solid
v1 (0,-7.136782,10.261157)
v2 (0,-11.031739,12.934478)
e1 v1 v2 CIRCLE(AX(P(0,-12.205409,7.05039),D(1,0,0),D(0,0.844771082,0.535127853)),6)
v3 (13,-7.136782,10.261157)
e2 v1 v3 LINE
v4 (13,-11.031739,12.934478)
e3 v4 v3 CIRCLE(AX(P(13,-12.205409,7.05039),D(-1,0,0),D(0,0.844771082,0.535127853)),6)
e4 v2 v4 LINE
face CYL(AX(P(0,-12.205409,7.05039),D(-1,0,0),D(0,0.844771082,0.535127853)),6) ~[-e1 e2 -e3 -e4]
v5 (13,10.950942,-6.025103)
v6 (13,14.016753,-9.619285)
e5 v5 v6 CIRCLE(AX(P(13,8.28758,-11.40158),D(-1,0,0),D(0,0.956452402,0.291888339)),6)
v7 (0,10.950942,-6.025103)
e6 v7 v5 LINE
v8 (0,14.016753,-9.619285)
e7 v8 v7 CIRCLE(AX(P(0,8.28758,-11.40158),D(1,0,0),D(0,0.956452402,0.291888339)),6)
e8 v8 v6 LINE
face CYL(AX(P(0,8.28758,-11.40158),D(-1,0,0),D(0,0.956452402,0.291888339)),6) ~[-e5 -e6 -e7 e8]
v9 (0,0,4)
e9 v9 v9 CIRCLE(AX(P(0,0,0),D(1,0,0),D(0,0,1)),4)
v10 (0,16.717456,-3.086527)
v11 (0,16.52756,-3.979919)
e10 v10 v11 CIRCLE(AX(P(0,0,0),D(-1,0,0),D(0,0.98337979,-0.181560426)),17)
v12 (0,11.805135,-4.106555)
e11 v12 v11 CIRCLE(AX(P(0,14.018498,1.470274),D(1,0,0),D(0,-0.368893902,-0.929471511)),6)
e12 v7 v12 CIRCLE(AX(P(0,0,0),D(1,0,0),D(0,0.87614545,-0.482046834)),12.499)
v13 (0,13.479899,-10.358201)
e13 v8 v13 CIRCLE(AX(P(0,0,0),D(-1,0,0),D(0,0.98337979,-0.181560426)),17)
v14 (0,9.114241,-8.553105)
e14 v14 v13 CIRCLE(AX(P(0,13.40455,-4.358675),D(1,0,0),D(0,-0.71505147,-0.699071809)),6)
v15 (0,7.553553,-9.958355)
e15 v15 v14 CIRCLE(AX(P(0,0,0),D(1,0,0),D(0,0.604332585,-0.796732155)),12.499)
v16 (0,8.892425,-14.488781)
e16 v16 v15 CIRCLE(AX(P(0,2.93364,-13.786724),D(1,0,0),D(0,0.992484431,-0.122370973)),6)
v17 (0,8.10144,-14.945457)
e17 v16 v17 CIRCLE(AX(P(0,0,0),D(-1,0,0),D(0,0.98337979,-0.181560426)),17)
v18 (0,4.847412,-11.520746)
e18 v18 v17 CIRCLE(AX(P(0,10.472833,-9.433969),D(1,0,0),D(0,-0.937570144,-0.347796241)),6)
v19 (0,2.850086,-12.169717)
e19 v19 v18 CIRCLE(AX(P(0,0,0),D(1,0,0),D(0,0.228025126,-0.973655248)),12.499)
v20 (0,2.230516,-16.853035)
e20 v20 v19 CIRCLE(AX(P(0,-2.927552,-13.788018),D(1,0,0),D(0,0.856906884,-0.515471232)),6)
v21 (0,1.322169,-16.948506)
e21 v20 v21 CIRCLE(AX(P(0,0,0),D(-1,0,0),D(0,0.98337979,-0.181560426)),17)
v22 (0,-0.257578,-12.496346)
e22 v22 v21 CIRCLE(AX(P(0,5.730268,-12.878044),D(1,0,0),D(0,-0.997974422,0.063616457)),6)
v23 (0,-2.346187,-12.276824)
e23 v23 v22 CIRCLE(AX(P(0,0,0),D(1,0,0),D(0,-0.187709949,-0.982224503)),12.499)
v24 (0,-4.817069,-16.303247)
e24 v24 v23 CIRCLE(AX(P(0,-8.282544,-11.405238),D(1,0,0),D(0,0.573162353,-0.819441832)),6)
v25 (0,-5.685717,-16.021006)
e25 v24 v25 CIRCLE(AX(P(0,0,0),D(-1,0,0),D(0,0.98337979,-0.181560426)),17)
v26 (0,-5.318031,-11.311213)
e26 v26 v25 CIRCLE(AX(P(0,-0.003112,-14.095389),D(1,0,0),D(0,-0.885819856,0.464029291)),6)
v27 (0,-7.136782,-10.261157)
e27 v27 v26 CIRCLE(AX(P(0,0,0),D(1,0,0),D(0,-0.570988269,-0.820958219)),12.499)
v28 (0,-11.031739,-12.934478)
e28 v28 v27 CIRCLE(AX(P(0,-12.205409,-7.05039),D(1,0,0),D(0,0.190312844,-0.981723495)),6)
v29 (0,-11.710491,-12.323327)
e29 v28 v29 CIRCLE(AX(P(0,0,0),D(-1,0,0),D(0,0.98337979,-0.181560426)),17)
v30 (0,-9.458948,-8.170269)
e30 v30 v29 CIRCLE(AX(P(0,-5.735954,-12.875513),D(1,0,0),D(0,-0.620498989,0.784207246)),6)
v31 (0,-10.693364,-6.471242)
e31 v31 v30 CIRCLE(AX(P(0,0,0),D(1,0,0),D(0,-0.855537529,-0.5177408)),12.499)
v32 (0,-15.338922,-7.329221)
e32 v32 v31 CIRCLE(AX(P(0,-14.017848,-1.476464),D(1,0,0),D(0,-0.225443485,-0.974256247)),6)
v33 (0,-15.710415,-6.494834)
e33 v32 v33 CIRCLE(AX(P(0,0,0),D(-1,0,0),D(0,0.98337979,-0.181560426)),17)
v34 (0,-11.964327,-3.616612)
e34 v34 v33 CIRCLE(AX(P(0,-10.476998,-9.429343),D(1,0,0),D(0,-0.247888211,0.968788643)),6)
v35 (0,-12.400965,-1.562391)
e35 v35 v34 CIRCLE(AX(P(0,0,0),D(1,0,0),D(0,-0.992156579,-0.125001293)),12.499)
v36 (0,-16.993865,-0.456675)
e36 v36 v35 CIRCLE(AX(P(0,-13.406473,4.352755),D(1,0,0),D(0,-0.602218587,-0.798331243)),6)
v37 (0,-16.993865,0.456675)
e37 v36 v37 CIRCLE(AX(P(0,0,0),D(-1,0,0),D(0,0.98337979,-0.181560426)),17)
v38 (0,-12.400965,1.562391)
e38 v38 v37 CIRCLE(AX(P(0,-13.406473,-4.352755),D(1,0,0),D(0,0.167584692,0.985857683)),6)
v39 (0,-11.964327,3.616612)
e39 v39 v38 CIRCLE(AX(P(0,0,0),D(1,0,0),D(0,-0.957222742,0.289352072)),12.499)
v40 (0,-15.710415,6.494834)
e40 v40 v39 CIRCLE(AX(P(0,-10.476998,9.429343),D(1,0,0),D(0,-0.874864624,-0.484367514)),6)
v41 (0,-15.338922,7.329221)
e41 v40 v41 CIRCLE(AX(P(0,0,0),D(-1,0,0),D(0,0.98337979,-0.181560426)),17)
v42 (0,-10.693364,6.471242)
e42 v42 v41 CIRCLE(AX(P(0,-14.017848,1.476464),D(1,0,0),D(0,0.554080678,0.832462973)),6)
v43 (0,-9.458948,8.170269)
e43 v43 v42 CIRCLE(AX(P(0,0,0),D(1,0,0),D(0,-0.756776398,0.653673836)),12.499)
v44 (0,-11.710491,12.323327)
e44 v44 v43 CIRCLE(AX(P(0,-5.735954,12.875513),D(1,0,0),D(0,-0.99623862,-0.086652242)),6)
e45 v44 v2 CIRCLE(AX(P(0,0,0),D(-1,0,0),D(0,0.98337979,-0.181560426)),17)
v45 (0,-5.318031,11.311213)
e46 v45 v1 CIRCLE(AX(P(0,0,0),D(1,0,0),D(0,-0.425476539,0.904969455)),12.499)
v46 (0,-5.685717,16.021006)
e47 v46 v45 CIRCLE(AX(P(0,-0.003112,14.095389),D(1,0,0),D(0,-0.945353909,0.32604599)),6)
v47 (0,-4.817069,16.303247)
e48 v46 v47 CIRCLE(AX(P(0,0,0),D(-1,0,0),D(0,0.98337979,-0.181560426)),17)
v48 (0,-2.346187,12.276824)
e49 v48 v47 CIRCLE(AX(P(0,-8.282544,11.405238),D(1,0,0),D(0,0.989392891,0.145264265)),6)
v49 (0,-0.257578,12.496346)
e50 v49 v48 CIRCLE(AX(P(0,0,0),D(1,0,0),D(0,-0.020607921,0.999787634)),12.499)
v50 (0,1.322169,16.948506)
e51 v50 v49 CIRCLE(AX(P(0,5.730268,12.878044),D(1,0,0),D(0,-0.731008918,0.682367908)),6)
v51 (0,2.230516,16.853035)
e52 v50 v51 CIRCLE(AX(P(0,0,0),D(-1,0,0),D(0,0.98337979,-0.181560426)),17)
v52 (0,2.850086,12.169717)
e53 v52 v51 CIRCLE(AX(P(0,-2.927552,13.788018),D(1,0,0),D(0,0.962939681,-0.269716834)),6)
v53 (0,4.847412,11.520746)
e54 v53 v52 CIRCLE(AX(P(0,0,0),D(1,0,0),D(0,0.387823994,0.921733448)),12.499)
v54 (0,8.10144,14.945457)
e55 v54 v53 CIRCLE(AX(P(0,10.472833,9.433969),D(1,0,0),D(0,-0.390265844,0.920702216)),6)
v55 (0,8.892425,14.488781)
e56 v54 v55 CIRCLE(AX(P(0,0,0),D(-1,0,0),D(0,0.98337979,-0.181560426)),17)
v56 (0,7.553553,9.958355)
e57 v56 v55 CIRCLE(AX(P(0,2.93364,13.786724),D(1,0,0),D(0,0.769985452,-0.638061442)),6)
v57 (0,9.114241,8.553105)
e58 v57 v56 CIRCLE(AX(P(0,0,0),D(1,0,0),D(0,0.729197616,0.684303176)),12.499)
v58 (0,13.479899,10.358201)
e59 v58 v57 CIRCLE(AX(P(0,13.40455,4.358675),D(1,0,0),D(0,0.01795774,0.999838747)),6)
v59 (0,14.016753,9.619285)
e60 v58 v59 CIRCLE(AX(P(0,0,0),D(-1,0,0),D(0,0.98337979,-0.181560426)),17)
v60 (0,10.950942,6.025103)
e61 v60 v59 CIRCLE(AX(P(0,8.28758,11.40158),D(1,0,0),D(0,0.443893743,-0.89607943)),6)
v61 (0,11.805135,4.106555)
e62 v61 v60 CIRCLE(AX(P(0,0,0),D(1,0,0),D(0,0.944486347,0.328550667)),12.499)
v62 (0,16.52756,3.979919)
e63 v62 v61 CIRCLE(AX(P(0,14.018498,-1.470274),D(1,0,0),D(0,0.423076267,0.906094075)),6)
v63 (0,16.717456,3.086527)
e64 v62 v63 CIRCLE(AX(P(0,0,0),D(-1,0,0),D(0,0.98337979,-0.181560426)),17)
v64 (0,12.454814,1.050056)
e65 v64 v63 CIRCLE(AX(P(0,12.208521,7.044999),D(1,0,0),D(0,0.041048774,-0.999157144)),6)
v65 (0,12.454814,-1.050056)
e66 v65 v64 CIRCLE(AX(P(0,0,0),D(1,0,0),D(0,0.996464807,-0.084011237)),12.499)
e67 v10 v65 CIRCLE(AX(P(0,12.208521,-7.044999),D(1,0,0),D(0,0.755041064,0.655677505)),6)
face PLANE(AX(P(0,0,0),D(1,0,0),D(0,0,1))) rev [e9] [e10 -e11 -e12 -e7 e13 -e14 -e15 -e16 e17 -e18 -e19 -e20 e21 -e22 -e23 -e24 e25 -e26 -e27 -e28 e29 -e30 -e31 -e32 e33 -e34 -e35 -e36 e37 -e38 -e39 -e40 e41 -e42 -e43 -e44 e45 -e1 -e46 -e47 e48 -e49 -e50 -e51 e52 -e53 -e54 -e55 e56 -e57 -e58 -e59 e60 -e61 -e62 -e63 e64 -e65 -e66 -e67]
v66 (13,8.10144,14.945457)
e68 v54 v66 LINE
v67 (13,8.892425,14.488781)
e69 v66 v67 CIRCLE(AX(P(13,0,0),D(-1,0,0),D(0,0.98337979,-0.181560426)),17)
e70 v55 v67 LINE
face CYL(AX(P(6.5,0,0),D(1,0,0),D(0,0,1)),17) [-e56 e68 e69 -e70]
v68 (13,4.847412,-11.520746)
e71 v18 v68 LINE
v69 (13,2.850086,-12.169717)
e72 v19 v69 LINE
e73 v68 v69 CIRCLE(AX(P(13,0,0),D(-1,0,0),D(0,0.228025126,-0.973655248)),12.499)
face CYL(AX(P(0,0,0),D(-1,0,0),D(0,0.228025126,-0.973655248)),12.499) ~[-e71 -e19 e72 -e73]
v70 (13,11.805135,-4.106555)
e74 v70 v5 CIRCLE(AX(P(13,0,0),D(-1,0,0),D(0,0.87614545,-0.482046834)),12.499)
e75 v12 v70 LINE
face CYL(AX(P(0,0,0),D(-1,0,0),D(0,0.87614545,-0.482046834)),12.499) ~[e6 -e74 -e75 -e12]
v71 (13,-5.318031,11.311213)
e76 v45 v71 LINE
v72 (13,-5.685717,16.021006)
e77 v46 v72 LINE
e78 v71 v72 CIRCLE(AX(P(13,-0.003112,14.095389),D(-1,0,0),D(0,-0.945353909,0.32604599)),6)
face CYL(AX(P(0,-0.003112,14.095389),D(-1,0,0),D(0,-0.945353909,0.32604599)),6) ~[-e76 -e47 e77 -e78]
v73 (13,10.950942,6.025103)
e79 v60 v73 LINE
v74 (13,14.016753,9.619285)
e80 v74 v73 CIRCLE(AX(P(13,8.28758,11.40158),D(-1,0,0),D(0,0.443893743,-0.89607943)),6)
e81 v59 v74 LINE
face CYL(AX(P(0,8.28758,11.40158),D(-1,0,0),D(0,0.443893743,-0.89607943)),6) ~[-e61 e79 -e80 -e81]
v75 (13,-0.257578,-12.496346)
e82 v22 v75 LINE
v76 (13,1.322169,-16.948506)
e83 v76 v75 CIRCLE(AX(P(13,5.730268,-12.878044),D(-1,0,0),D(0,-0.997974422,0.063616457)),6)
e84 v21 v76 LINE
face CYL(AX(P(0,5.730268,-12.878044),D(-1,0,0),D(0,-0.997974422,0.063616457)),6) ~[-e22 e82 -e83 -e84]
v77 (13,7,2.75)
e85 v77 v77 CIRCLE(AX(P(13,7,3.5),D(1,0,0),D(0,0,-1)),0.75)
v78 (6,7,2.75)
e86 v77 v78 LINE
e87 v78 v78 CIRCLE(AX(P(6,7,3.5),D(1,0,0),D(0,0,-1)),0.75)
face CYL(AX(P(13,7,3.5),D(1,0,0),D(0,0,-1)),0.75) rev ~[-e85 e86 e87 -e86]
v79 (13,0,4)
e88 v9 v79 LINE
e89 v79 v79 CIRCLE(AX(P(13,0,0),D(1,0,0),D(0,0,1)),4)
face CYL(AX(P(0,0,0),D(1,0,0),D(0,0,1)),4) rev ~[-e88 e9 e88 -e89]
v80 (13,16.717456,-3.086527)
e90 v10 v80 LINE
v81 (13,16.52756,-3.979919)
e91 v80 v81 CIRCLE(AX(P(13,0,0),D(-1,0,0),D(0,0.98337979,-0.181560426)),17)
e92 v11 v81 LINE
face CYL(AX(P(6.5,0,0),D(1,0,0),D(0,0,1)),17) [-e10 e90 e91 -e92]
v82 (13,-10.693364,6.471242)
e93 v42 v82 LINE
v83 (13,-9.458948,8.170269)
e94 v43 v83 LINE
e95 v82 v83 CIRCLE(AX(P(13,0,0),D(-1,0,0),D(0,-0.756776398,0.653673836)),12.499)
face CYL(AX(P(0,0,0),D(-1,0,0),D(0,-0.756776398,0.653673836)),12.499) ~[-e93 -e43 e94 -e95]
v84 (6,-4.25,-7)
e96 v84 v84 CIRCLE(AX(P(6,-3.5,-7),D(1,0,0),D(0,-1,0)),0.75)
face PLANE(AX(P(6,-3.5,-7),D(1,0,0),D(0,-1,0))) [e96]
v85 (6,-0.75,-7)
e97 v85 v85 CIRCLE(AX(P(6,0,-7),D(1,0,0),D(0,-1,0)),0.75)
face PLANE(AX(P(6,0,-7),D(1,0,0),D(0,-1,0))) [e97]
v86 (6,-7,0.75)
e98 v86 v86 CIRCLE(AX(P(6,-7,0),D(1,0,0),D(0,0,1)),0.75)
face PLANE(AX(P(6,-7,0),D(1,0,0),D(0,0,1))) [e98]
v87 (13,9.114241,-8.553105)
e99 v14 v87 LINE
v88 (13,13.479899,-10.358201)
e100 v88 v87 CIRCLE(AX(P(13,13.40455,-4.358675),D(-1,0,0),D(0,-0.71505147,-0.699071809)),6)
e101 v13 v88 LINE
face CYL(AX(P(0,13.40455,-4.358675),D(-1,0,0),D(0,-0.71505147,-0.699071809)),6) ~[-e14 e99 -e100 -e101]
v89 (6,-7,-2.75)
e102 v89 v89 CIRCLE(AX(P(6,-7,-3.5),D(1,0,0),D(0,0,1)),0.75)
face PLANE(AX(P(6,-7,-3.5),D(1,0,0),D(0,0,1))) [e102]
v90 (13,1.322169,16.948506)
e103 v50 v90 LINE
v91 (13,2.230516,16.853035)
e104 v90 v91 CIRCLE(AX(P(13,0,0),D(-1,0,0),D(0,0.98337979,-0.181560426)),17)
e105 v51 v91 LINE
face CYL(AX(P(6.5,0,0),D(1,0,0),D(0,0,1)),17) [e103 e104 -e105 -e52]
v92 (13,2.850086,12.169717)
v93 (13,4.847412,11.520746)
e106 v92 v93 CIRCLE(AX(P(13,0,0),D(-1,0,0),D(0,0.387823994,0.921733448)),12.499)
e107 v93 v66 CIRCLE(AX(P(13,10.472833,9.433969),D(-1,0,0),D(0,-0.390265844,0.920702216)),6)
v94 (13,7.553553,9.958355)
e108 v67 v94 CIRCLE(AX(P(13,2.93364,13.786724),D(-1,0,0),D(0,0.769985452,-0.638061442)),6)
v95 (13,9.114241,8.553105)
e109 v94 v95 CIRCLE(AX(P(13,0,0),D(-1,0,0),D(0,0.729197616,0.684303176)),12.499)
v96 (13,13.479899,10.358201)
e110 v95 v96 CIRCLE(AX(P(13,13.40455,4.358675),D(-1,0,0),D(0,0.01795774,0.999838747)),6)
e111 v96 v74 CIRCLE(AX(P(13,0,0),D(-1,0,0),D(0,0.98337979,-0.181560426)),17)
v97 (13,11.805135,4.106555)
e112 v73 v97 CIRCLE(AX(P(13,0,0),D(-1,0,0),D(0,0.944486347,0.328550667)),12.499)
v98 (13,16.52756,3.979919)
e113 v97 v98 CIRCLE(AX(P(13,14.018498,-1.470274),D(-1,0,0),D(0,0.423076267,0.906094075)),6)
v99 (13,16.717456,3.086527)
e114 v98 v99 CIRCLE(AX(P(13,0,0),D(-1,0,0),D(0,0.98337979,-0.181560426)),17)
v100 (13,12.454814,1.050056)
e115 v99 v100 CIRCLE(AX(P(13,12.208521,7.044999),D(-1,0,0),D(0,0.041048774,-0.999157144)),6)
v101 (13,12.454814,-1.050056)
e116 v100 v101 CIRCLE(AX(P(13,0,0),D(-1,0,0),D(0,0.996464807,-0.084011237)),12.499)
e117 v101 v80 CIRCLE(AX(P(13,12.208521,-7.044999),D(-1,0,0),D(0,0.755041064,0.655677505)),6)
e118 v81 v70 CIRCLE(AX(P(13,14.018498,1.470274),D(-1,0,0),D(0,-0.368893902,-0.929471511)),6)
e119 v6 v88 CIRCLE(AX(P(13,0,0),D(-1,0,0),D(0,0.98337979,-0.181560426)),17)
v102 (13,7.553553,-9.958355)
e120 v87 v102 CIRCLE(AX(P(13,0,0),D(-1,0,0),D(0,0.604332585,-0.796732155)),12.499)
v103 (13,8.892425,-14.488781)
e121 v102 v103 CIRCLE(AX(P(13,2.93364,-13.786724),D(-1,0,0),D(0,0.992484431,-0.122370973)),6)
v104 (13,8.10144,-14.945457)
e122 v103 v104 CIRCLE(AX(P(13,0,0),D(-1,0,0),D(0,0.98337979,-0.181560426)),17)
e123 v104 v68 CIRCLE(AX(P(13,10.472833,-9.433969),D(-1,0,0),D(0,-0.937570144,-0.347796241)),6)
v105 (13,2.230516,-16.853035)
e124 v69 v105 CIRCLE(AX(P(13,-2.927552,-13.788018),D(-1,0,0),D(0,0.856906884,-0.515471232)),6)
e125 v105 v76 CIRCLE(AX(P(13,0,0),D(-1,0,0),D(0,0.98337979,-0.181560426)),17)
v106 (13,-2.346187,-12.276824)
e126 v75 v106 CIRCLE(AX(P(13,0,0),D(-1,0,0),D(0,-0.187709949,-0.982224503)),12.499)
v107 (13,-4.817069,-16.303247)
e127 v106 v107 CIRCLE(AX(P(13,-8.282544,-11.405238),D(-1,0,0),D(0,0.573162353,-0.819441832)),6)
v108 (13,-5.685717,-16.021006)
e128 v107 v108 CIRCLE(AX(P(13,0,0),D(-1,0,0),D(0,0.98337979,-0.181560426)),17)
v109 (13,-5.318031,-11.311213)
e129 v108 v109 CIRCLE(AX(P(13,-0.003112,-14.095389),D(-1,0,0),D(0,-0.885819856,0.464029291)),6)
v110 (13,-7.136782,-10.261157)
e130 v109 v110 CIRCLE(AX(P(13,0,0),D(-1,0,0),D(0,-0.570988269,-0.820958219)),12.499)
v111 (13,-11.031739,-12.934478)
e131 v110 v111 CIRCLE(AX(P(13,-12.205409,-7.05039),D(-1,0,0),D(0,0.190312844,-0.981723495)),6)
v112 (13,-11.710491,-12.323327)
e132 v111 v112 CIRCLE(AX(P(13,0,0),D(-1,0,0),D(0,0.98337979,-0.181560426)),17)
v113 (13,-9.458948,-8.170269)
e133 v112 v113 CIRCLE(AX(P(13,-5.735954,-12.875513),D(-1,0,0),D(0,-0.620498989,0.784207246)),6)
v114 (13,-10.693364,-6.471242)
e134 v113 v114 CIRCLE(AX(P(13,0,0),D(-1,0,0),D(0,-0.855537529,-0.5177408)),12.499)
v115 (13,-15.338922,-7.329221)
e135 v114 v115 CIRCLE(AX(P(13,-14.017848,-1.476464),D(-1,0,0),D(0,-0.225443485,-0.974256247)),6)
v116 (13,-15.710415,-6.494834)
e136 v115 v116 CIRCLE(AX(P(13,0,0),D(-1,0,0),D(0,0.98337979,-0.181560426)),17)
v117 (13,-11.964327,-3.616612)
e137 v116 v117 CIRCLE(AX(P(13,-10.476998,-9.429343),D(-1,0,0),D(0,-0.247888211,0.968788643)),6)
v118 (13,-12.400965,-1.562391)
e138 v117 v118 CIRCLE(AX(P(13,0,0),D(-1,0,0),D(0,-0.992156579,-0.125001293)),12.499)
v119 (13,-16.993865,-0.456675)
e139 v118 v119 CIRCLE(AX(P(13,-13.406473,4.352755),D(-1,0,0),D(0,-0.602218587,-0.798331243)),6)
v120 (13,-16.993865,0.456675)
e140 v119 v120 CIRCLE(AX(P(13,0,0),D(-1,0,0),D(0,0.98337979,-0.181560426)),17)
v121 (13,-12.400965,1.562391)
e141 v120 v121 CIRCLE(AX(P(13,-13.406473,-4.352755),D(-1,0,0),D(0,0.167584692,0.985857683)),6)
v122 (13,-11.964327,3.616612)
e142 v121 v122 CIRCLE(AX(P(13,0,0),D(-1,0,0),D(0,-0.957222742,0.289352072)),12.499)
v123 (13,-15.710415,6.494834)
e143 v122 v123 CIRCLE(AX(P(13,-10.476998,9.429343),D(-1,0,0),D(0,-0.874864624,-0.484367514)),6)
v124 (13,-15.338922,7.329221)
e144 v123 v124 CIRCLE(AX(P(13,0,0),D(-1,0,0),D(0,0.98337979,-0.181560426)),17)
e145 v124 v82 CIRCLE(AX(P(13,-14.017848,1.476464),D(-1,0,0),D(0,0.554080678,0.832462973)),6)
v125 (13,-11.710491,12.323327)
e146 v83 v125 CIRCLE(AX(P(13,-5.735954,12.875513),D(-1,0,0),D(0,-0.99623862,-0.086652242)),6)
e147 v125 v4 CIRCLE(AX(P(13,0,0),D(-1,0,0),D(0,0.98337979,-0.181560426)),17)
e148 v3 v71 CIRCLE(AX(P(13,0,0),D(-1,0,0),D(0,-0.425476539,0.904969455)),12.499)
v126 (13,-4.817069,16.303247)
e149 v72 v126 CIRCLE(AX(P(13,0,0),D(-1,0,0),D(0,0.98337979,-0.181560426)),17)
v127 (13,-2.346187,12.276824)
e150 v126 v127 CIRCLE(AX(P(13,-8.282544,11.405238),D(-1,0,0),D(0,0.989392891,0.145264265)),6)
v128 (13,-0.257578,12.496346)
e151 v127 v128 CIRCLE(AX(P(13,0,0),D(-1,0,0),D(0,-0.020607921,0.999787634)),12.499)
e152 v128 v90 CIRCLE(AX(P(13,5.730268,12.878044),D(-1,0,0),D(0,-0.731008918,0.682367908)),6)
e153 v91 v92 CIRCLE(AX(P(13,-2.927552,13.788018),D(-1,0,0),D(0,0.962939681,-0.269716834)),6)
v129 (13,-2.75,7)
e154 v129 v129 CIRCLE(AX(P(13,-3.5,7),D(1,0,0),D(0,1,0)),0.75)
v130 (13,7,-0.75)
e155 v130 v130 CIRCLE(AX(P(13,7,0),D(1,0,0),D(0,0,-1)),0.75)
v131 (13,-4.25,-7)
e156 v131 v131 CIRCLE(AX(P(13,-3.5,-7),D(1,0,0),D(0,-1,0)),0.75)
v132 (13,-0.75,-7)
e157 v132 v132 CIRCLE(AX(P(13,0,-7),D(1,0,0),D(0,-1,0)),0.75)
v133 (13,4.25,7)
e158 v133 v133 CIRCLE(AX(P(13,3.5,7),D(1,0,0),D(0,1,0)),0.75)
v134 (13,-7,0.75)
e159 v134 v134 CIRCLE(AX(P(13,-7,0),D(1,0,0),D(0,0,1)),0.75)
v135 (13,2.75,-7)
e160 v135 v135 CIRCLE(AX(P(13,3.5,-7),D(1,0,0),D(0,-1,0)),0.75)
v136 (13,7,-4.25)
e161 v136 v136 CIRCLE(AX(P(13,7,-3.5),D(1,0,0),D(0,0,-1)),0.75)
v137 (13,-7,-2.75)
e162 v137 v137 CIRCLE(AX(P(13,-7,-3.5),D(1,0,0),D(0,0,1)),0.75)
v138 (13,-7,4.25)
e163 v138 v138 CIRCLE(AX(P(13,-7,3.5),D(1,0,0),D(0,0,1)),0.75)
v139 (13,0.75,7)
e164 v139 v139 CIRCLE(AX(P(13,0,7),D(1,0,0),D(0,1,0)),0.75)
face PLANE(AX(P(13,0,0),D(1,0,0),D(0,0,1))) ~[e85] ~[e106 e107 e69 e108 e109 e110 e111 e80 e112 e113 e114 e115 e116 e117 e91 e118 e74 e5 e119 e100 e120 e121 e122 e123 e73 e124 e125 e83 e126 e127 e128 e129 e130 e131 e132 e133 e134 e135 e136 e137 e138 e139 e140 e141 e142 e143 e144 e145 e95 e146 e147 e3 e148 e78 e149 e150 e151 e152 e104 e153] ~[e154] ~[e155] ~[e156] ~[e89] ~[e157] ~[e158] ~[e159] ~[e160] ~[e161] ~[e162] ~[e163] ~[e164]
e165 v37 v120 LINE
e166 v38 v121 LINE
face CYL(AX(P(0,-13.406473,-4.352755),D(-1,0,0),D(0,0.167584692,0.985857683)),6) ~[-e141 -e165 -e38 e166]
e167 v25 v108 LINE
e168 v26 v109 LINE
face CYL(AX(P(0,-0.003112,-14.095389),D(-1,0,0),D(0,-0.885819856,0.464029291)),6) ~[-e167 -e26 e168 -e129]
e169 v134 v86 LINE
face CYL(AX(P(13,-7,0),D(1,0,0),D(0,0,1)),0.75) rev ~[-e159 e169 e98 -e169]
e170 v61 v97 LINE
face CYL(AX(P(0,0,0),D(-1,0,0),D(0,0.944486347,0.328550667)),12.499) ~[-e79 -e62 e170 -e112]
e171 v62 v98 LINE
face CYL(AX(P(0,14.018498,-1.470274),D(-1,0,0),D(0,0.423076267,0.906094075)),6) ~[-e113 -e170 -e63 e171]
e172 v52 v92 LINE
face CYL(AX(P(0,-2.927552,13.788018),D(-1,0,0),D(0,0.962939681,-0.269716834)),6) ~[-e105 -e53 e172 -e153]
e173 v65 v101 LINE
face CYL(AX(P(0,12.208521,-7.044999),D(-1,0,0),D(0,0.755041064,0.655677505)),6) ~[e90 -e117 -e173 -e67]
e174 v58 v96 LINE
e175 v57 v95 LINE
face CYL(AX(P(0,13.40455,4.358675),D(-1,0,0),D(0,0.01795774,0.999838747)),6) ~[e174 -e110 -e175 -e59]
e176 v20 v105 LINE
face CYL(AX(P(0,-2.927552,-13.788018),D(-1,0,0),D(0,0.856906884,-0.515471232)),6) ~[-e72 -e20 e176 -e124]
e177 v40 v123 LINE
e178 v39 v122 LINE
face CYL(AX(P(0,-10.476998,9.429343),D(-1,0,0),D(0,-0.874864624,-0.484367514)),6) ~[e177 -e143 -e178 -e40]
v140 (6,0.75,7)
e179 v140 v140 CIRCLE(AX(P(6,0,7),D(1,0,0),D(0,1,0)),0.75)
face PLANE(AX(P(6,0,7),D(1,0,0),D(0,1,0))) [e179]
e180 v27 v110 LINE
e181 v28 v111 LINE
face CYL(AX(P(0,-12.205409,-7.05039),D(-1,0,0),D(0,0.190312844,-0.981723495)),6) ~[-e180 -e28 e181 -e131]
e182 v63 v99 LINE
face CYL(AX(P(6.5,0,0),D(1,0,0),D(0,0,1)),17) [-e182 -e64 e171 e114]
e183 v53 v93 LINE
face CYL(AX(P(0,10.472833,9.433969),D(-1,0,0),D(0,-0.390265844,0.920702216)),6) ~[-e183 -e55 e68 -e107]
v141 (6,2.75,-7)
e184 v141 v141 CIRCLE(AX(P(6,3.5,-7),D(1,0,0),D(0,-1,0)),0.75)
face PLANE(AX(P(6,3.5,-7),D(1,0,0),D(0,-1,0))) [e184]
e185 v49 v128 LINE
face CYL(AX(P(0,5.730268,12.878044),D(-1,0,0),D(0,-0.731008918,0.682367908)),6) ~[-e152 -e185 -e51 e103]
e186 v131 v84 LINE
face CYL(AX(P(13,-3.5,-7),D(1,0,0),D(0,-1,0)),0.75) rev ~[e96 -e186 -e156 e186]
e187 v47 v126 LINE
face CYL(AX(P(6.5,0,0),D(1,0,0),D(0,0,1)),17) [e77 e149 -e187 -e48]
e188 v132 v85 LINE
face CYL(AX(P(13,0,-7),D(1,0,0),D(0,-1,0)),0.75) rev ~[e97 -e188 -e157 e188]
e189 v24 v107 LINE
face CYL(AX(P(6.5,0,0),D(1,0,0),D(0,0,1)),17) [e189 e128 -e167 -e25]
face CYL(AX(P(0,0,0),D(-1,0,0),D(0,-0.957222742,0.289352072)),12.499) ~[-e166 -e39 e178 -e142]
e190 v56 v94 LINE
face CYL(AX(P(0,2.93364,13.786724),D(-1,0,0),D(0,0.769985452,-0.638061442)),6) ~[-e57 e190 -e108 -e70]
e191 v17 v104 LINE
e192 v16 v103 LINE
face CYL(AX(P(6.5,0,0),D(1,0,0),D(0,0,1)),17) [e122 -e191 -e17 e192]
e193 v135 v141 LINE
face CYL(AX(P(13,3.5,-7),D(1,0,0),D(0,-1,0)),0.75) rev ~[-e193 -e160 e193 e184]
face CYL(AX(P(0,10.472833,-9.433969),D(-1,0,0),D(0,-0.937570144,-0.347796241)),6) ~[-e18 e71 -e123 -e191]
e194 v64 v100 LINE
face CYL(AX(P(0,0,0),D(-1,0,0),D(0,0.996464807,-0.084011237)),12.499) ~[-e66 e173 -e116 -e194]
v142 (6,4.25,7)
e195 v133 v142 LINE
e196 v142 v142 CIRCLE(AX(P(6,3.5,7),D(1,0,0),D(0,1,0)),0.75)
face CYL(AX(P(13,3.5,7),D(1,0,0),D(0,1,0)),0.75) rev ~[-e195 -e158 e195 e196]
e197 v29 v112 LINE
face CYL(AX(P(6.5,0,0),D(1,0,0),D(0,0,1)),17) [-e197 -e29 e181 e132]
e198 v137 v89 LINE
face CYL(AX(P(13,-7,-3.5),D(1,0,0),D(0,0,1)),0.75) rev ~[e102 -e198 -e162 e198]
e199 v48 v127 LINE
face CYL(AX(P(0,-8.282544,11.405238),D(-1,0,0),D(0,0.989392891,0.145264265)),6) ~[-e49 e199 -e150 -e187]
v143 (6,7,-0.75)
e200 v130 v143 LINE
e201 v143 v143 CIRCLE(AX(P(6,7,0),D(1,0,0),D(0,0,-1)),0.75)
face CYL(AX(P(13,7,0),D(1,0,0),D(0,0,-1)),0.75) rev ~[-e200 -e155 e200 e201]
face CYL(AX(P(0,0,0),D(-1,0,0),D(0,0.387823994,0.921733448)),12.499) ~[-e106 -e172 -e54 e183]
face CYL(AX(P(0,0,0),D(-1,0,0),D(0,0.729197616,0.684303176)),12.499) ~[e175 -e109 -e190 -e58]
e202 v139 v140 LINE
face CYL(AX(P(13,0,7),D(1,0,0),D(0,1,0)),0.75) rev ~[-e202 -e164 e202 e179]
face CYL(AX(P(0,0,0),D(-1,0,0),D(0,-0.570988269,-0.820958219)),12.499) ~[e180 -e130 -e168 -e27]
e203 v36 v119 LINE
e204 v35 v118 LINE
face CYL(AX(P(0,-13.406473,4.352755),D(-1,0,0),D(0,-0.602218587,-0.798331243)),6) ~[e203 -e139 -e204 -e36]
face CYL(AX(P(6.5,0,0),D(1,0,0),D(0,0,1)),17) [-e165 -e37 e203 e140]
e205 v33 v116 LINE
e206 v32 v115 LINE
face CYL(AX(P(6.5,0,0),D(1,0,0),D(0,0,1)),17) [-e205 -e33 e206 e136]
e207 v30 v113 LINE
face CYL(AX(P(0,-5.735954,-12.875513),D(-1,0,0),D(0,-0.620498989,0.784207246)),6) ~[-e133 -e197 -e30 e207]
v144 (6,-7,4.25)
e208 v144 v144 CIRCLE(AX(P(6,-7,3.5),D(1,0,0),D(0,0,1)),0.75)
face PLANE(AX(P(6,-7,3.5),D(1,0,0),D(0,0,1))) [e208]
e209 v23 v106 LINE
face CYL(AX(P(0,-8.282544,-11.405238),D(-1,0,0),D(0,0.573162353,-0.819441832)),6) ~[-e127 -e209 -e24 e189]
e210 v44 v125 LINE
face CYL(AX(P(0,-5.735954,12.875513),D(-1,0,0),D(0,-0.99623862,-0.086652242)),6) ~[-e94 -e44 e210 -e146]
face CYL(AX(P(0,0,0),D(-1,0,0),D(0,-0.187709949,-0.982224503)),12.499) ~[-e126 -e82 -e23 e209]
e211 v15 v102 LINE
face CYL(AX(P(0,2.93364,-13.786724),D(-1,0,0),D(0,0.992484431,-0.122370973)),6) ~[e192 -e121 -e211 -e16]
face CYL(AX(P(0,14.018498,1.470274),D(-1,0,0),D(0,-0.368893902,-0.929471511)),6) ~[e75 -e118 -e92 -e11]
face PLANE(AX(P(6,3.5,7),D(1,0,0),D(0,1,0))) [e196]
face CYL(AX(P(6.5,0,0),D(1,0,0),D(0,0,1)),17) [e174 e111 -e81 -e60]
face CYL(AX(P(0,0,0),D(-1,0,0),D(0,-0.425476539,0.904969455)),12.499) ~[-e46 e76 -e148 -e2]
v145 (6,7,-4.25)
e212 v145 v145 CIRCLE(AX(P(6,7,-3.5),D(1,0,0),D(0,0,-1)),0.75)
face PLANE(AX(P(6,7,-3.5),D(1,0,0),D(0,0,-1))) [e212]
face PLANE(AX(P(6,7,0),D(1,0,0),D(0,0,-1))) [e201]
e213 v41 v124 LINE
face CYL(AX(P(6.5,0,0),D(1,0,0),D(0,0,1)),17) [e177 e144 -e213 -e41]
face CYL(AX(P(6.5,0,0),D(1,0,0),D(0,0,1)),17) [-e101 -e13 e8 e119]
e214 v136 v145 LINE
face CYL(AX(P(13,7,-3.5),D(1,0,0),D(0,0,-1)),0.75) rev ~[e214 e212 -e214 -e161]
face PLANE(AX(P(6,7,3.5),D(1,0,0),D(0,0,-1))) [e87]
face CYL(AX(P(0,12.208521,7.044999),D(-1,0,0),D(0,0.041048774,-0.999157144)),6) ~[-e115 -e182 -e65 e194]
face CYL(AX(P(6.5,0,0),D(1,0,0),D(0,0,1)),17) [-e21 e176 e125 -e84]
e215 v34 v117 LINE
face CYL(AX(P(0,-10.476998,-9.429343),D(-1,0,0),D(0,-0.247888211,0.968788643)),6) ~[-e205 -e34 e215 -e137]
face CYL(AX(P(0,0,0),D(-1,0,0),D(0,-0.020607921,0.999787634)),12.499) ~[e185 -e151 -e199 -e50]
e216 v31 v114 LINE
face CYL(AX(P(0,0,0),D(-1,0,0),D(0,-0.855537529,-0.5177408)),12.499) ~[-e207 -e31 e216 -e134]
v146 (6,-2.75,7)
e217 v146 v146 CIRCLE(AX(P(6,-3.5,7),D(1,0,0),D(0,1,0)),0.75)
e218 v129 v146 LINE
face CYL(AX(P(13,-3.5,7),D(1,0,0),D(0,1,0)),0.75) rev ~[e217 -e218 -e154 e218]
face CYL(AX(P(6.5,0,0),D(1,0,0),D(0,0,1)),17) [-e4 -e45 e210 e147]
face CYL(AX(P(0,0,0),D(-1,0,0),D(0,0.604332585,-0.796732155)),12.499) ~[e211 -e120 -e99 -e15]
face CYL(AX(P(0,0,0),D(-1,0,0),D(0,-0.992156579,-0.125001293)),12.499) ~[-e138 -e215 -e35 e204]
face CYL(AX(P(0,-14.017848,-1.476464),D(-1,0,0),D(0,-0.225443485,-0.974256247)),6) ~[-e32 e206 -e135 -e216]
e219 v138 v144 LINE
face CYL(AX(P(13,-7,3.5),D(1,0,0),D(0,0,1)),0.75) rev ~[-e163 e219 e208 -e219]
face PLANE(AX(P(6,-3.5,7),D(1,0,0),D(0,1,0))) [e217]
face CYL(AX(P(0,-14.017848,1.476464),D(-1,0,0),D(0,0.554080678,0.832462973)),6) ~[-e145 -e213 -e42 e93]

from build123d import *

# Parameters (mm, degrees)
BASPROSKE_W        = 13
BASPROSKE_H        = 17
TOOTHCUT_DEPTH     = 28.331300737
TEETHCUTS_COUNT    = 15
TEETHCUTS_ANGLE    = 336
BORSKE_R           = 4
BORE_DEPTH         = 50.0000508
SKETCH1_R          = 0.75
CUT_EXTRUDE1_DEPTH = 7
CIRPATTERN1_COUNT  = 4


with BuildPart() as part:
    # BasProSke → Base-Revolve (revolve)
    with BuildSketch(Plane(origin=(0, 0, 0), x_dir=(1, 0, 0), z_dir=(0, 1, 0)), mode=Mode.PRIVATE) as base_revolve_sk:
        with Locations((6.5, 8.5)):
            Rectangle(BASPROSKE_W, BASPROSKE_H)
    revolve(base_revolve_sk.sketch.rotate(Axis((-10, 0, 0), (1, 0, 0)), 180), axis=Axis((-10, 0, 0), (1, 0, 0)))

    # TooCutSke → ToothCut (cut, through all)
    with BuildSketch(Plane(origin=(0, 0, 0), x_dir=(0, 0, -1), z_dir=(1, 0, 0))):
        with BuildLine():
            ThreePointArc((1.050056448, 12.454813626), (0, 12.499), (-1.050056448, 12.454813626))
            ThreePointArc((-1.050056448, 12.454813626), (-1.638118106, 14.809604533), (-3.110934279, 16.73876737))
            ThreePointArc((-3.110934279, 16.73876737), (0, 17.0254), (3.110934279, 16.73876737))
            ThreePointArc((3.110934279, 16.73876737), (1.638118106, 14.809604533), (1.050056448, 12.454813626))
        make_face()
    toothcut = extrude(amount=TOOTHCUT_DEPTH, mode=Mode.SUBTRACT)

    # TeethCuts: ToothCut ×15 about axis
    teethcuts_axis = Axis((-10, 0, 0), (1, 0, 0))
    for i in range(1, TEETHCUTS_COUNT):
        add(toothcut.rotate(teethcuts_axis, i * TEETHCUTS_ANGLE / (TEETHCUTS_COUNT - 1)), mode=Mode.SUBTRACT)

    # BorSke → Bore (cut, symmetric)
    with BuildSketch(Plane(origin=(0, 0, 0), x_dir=(0, 0, -1), z_dir=(1, 0, 0))):
        with Locations(Location((0, 0, 0), (0, 0, 180))):
            Circle(BORSKE_R)
    extrude(amount=BORE_DEPTH, both=True, mode=Mode.SUBTRACT)

    # Sketch1 → Cut-Extrude1 (cut)
    with BuildSketch(Plane(origin=(13, 0, 0), x_dir=(0, 0, -1), z_dir=(1, 0, 0))):
        with Locations((-3.5, 7)):
            Circle(SKETCH1_R)
        with Locations((0, 7)):
            Circle(SKETCH1_R)
        with Locations((3.5, 7)):
            Circle(SKETCH1_R)
    cut_extrude1 = extrude(amount=-CUT_EXTRUDE1_DEPTH, mode=Mode.SUBTRACT)

    # CirPattern1: Cut-Extrude1 ×4 about axis
    cirpattern1_axis = Axis((0, 0, 0), (1, 0, 0))
    for i in range(1, CIRPATTERN1_COUNT):
        add(cut_extrude1.rotate(cirpattern1_axis, i * 360 / CIRPATTERN1_COUNT), mode=Mode.SUBTRACT)


solid = part.part
